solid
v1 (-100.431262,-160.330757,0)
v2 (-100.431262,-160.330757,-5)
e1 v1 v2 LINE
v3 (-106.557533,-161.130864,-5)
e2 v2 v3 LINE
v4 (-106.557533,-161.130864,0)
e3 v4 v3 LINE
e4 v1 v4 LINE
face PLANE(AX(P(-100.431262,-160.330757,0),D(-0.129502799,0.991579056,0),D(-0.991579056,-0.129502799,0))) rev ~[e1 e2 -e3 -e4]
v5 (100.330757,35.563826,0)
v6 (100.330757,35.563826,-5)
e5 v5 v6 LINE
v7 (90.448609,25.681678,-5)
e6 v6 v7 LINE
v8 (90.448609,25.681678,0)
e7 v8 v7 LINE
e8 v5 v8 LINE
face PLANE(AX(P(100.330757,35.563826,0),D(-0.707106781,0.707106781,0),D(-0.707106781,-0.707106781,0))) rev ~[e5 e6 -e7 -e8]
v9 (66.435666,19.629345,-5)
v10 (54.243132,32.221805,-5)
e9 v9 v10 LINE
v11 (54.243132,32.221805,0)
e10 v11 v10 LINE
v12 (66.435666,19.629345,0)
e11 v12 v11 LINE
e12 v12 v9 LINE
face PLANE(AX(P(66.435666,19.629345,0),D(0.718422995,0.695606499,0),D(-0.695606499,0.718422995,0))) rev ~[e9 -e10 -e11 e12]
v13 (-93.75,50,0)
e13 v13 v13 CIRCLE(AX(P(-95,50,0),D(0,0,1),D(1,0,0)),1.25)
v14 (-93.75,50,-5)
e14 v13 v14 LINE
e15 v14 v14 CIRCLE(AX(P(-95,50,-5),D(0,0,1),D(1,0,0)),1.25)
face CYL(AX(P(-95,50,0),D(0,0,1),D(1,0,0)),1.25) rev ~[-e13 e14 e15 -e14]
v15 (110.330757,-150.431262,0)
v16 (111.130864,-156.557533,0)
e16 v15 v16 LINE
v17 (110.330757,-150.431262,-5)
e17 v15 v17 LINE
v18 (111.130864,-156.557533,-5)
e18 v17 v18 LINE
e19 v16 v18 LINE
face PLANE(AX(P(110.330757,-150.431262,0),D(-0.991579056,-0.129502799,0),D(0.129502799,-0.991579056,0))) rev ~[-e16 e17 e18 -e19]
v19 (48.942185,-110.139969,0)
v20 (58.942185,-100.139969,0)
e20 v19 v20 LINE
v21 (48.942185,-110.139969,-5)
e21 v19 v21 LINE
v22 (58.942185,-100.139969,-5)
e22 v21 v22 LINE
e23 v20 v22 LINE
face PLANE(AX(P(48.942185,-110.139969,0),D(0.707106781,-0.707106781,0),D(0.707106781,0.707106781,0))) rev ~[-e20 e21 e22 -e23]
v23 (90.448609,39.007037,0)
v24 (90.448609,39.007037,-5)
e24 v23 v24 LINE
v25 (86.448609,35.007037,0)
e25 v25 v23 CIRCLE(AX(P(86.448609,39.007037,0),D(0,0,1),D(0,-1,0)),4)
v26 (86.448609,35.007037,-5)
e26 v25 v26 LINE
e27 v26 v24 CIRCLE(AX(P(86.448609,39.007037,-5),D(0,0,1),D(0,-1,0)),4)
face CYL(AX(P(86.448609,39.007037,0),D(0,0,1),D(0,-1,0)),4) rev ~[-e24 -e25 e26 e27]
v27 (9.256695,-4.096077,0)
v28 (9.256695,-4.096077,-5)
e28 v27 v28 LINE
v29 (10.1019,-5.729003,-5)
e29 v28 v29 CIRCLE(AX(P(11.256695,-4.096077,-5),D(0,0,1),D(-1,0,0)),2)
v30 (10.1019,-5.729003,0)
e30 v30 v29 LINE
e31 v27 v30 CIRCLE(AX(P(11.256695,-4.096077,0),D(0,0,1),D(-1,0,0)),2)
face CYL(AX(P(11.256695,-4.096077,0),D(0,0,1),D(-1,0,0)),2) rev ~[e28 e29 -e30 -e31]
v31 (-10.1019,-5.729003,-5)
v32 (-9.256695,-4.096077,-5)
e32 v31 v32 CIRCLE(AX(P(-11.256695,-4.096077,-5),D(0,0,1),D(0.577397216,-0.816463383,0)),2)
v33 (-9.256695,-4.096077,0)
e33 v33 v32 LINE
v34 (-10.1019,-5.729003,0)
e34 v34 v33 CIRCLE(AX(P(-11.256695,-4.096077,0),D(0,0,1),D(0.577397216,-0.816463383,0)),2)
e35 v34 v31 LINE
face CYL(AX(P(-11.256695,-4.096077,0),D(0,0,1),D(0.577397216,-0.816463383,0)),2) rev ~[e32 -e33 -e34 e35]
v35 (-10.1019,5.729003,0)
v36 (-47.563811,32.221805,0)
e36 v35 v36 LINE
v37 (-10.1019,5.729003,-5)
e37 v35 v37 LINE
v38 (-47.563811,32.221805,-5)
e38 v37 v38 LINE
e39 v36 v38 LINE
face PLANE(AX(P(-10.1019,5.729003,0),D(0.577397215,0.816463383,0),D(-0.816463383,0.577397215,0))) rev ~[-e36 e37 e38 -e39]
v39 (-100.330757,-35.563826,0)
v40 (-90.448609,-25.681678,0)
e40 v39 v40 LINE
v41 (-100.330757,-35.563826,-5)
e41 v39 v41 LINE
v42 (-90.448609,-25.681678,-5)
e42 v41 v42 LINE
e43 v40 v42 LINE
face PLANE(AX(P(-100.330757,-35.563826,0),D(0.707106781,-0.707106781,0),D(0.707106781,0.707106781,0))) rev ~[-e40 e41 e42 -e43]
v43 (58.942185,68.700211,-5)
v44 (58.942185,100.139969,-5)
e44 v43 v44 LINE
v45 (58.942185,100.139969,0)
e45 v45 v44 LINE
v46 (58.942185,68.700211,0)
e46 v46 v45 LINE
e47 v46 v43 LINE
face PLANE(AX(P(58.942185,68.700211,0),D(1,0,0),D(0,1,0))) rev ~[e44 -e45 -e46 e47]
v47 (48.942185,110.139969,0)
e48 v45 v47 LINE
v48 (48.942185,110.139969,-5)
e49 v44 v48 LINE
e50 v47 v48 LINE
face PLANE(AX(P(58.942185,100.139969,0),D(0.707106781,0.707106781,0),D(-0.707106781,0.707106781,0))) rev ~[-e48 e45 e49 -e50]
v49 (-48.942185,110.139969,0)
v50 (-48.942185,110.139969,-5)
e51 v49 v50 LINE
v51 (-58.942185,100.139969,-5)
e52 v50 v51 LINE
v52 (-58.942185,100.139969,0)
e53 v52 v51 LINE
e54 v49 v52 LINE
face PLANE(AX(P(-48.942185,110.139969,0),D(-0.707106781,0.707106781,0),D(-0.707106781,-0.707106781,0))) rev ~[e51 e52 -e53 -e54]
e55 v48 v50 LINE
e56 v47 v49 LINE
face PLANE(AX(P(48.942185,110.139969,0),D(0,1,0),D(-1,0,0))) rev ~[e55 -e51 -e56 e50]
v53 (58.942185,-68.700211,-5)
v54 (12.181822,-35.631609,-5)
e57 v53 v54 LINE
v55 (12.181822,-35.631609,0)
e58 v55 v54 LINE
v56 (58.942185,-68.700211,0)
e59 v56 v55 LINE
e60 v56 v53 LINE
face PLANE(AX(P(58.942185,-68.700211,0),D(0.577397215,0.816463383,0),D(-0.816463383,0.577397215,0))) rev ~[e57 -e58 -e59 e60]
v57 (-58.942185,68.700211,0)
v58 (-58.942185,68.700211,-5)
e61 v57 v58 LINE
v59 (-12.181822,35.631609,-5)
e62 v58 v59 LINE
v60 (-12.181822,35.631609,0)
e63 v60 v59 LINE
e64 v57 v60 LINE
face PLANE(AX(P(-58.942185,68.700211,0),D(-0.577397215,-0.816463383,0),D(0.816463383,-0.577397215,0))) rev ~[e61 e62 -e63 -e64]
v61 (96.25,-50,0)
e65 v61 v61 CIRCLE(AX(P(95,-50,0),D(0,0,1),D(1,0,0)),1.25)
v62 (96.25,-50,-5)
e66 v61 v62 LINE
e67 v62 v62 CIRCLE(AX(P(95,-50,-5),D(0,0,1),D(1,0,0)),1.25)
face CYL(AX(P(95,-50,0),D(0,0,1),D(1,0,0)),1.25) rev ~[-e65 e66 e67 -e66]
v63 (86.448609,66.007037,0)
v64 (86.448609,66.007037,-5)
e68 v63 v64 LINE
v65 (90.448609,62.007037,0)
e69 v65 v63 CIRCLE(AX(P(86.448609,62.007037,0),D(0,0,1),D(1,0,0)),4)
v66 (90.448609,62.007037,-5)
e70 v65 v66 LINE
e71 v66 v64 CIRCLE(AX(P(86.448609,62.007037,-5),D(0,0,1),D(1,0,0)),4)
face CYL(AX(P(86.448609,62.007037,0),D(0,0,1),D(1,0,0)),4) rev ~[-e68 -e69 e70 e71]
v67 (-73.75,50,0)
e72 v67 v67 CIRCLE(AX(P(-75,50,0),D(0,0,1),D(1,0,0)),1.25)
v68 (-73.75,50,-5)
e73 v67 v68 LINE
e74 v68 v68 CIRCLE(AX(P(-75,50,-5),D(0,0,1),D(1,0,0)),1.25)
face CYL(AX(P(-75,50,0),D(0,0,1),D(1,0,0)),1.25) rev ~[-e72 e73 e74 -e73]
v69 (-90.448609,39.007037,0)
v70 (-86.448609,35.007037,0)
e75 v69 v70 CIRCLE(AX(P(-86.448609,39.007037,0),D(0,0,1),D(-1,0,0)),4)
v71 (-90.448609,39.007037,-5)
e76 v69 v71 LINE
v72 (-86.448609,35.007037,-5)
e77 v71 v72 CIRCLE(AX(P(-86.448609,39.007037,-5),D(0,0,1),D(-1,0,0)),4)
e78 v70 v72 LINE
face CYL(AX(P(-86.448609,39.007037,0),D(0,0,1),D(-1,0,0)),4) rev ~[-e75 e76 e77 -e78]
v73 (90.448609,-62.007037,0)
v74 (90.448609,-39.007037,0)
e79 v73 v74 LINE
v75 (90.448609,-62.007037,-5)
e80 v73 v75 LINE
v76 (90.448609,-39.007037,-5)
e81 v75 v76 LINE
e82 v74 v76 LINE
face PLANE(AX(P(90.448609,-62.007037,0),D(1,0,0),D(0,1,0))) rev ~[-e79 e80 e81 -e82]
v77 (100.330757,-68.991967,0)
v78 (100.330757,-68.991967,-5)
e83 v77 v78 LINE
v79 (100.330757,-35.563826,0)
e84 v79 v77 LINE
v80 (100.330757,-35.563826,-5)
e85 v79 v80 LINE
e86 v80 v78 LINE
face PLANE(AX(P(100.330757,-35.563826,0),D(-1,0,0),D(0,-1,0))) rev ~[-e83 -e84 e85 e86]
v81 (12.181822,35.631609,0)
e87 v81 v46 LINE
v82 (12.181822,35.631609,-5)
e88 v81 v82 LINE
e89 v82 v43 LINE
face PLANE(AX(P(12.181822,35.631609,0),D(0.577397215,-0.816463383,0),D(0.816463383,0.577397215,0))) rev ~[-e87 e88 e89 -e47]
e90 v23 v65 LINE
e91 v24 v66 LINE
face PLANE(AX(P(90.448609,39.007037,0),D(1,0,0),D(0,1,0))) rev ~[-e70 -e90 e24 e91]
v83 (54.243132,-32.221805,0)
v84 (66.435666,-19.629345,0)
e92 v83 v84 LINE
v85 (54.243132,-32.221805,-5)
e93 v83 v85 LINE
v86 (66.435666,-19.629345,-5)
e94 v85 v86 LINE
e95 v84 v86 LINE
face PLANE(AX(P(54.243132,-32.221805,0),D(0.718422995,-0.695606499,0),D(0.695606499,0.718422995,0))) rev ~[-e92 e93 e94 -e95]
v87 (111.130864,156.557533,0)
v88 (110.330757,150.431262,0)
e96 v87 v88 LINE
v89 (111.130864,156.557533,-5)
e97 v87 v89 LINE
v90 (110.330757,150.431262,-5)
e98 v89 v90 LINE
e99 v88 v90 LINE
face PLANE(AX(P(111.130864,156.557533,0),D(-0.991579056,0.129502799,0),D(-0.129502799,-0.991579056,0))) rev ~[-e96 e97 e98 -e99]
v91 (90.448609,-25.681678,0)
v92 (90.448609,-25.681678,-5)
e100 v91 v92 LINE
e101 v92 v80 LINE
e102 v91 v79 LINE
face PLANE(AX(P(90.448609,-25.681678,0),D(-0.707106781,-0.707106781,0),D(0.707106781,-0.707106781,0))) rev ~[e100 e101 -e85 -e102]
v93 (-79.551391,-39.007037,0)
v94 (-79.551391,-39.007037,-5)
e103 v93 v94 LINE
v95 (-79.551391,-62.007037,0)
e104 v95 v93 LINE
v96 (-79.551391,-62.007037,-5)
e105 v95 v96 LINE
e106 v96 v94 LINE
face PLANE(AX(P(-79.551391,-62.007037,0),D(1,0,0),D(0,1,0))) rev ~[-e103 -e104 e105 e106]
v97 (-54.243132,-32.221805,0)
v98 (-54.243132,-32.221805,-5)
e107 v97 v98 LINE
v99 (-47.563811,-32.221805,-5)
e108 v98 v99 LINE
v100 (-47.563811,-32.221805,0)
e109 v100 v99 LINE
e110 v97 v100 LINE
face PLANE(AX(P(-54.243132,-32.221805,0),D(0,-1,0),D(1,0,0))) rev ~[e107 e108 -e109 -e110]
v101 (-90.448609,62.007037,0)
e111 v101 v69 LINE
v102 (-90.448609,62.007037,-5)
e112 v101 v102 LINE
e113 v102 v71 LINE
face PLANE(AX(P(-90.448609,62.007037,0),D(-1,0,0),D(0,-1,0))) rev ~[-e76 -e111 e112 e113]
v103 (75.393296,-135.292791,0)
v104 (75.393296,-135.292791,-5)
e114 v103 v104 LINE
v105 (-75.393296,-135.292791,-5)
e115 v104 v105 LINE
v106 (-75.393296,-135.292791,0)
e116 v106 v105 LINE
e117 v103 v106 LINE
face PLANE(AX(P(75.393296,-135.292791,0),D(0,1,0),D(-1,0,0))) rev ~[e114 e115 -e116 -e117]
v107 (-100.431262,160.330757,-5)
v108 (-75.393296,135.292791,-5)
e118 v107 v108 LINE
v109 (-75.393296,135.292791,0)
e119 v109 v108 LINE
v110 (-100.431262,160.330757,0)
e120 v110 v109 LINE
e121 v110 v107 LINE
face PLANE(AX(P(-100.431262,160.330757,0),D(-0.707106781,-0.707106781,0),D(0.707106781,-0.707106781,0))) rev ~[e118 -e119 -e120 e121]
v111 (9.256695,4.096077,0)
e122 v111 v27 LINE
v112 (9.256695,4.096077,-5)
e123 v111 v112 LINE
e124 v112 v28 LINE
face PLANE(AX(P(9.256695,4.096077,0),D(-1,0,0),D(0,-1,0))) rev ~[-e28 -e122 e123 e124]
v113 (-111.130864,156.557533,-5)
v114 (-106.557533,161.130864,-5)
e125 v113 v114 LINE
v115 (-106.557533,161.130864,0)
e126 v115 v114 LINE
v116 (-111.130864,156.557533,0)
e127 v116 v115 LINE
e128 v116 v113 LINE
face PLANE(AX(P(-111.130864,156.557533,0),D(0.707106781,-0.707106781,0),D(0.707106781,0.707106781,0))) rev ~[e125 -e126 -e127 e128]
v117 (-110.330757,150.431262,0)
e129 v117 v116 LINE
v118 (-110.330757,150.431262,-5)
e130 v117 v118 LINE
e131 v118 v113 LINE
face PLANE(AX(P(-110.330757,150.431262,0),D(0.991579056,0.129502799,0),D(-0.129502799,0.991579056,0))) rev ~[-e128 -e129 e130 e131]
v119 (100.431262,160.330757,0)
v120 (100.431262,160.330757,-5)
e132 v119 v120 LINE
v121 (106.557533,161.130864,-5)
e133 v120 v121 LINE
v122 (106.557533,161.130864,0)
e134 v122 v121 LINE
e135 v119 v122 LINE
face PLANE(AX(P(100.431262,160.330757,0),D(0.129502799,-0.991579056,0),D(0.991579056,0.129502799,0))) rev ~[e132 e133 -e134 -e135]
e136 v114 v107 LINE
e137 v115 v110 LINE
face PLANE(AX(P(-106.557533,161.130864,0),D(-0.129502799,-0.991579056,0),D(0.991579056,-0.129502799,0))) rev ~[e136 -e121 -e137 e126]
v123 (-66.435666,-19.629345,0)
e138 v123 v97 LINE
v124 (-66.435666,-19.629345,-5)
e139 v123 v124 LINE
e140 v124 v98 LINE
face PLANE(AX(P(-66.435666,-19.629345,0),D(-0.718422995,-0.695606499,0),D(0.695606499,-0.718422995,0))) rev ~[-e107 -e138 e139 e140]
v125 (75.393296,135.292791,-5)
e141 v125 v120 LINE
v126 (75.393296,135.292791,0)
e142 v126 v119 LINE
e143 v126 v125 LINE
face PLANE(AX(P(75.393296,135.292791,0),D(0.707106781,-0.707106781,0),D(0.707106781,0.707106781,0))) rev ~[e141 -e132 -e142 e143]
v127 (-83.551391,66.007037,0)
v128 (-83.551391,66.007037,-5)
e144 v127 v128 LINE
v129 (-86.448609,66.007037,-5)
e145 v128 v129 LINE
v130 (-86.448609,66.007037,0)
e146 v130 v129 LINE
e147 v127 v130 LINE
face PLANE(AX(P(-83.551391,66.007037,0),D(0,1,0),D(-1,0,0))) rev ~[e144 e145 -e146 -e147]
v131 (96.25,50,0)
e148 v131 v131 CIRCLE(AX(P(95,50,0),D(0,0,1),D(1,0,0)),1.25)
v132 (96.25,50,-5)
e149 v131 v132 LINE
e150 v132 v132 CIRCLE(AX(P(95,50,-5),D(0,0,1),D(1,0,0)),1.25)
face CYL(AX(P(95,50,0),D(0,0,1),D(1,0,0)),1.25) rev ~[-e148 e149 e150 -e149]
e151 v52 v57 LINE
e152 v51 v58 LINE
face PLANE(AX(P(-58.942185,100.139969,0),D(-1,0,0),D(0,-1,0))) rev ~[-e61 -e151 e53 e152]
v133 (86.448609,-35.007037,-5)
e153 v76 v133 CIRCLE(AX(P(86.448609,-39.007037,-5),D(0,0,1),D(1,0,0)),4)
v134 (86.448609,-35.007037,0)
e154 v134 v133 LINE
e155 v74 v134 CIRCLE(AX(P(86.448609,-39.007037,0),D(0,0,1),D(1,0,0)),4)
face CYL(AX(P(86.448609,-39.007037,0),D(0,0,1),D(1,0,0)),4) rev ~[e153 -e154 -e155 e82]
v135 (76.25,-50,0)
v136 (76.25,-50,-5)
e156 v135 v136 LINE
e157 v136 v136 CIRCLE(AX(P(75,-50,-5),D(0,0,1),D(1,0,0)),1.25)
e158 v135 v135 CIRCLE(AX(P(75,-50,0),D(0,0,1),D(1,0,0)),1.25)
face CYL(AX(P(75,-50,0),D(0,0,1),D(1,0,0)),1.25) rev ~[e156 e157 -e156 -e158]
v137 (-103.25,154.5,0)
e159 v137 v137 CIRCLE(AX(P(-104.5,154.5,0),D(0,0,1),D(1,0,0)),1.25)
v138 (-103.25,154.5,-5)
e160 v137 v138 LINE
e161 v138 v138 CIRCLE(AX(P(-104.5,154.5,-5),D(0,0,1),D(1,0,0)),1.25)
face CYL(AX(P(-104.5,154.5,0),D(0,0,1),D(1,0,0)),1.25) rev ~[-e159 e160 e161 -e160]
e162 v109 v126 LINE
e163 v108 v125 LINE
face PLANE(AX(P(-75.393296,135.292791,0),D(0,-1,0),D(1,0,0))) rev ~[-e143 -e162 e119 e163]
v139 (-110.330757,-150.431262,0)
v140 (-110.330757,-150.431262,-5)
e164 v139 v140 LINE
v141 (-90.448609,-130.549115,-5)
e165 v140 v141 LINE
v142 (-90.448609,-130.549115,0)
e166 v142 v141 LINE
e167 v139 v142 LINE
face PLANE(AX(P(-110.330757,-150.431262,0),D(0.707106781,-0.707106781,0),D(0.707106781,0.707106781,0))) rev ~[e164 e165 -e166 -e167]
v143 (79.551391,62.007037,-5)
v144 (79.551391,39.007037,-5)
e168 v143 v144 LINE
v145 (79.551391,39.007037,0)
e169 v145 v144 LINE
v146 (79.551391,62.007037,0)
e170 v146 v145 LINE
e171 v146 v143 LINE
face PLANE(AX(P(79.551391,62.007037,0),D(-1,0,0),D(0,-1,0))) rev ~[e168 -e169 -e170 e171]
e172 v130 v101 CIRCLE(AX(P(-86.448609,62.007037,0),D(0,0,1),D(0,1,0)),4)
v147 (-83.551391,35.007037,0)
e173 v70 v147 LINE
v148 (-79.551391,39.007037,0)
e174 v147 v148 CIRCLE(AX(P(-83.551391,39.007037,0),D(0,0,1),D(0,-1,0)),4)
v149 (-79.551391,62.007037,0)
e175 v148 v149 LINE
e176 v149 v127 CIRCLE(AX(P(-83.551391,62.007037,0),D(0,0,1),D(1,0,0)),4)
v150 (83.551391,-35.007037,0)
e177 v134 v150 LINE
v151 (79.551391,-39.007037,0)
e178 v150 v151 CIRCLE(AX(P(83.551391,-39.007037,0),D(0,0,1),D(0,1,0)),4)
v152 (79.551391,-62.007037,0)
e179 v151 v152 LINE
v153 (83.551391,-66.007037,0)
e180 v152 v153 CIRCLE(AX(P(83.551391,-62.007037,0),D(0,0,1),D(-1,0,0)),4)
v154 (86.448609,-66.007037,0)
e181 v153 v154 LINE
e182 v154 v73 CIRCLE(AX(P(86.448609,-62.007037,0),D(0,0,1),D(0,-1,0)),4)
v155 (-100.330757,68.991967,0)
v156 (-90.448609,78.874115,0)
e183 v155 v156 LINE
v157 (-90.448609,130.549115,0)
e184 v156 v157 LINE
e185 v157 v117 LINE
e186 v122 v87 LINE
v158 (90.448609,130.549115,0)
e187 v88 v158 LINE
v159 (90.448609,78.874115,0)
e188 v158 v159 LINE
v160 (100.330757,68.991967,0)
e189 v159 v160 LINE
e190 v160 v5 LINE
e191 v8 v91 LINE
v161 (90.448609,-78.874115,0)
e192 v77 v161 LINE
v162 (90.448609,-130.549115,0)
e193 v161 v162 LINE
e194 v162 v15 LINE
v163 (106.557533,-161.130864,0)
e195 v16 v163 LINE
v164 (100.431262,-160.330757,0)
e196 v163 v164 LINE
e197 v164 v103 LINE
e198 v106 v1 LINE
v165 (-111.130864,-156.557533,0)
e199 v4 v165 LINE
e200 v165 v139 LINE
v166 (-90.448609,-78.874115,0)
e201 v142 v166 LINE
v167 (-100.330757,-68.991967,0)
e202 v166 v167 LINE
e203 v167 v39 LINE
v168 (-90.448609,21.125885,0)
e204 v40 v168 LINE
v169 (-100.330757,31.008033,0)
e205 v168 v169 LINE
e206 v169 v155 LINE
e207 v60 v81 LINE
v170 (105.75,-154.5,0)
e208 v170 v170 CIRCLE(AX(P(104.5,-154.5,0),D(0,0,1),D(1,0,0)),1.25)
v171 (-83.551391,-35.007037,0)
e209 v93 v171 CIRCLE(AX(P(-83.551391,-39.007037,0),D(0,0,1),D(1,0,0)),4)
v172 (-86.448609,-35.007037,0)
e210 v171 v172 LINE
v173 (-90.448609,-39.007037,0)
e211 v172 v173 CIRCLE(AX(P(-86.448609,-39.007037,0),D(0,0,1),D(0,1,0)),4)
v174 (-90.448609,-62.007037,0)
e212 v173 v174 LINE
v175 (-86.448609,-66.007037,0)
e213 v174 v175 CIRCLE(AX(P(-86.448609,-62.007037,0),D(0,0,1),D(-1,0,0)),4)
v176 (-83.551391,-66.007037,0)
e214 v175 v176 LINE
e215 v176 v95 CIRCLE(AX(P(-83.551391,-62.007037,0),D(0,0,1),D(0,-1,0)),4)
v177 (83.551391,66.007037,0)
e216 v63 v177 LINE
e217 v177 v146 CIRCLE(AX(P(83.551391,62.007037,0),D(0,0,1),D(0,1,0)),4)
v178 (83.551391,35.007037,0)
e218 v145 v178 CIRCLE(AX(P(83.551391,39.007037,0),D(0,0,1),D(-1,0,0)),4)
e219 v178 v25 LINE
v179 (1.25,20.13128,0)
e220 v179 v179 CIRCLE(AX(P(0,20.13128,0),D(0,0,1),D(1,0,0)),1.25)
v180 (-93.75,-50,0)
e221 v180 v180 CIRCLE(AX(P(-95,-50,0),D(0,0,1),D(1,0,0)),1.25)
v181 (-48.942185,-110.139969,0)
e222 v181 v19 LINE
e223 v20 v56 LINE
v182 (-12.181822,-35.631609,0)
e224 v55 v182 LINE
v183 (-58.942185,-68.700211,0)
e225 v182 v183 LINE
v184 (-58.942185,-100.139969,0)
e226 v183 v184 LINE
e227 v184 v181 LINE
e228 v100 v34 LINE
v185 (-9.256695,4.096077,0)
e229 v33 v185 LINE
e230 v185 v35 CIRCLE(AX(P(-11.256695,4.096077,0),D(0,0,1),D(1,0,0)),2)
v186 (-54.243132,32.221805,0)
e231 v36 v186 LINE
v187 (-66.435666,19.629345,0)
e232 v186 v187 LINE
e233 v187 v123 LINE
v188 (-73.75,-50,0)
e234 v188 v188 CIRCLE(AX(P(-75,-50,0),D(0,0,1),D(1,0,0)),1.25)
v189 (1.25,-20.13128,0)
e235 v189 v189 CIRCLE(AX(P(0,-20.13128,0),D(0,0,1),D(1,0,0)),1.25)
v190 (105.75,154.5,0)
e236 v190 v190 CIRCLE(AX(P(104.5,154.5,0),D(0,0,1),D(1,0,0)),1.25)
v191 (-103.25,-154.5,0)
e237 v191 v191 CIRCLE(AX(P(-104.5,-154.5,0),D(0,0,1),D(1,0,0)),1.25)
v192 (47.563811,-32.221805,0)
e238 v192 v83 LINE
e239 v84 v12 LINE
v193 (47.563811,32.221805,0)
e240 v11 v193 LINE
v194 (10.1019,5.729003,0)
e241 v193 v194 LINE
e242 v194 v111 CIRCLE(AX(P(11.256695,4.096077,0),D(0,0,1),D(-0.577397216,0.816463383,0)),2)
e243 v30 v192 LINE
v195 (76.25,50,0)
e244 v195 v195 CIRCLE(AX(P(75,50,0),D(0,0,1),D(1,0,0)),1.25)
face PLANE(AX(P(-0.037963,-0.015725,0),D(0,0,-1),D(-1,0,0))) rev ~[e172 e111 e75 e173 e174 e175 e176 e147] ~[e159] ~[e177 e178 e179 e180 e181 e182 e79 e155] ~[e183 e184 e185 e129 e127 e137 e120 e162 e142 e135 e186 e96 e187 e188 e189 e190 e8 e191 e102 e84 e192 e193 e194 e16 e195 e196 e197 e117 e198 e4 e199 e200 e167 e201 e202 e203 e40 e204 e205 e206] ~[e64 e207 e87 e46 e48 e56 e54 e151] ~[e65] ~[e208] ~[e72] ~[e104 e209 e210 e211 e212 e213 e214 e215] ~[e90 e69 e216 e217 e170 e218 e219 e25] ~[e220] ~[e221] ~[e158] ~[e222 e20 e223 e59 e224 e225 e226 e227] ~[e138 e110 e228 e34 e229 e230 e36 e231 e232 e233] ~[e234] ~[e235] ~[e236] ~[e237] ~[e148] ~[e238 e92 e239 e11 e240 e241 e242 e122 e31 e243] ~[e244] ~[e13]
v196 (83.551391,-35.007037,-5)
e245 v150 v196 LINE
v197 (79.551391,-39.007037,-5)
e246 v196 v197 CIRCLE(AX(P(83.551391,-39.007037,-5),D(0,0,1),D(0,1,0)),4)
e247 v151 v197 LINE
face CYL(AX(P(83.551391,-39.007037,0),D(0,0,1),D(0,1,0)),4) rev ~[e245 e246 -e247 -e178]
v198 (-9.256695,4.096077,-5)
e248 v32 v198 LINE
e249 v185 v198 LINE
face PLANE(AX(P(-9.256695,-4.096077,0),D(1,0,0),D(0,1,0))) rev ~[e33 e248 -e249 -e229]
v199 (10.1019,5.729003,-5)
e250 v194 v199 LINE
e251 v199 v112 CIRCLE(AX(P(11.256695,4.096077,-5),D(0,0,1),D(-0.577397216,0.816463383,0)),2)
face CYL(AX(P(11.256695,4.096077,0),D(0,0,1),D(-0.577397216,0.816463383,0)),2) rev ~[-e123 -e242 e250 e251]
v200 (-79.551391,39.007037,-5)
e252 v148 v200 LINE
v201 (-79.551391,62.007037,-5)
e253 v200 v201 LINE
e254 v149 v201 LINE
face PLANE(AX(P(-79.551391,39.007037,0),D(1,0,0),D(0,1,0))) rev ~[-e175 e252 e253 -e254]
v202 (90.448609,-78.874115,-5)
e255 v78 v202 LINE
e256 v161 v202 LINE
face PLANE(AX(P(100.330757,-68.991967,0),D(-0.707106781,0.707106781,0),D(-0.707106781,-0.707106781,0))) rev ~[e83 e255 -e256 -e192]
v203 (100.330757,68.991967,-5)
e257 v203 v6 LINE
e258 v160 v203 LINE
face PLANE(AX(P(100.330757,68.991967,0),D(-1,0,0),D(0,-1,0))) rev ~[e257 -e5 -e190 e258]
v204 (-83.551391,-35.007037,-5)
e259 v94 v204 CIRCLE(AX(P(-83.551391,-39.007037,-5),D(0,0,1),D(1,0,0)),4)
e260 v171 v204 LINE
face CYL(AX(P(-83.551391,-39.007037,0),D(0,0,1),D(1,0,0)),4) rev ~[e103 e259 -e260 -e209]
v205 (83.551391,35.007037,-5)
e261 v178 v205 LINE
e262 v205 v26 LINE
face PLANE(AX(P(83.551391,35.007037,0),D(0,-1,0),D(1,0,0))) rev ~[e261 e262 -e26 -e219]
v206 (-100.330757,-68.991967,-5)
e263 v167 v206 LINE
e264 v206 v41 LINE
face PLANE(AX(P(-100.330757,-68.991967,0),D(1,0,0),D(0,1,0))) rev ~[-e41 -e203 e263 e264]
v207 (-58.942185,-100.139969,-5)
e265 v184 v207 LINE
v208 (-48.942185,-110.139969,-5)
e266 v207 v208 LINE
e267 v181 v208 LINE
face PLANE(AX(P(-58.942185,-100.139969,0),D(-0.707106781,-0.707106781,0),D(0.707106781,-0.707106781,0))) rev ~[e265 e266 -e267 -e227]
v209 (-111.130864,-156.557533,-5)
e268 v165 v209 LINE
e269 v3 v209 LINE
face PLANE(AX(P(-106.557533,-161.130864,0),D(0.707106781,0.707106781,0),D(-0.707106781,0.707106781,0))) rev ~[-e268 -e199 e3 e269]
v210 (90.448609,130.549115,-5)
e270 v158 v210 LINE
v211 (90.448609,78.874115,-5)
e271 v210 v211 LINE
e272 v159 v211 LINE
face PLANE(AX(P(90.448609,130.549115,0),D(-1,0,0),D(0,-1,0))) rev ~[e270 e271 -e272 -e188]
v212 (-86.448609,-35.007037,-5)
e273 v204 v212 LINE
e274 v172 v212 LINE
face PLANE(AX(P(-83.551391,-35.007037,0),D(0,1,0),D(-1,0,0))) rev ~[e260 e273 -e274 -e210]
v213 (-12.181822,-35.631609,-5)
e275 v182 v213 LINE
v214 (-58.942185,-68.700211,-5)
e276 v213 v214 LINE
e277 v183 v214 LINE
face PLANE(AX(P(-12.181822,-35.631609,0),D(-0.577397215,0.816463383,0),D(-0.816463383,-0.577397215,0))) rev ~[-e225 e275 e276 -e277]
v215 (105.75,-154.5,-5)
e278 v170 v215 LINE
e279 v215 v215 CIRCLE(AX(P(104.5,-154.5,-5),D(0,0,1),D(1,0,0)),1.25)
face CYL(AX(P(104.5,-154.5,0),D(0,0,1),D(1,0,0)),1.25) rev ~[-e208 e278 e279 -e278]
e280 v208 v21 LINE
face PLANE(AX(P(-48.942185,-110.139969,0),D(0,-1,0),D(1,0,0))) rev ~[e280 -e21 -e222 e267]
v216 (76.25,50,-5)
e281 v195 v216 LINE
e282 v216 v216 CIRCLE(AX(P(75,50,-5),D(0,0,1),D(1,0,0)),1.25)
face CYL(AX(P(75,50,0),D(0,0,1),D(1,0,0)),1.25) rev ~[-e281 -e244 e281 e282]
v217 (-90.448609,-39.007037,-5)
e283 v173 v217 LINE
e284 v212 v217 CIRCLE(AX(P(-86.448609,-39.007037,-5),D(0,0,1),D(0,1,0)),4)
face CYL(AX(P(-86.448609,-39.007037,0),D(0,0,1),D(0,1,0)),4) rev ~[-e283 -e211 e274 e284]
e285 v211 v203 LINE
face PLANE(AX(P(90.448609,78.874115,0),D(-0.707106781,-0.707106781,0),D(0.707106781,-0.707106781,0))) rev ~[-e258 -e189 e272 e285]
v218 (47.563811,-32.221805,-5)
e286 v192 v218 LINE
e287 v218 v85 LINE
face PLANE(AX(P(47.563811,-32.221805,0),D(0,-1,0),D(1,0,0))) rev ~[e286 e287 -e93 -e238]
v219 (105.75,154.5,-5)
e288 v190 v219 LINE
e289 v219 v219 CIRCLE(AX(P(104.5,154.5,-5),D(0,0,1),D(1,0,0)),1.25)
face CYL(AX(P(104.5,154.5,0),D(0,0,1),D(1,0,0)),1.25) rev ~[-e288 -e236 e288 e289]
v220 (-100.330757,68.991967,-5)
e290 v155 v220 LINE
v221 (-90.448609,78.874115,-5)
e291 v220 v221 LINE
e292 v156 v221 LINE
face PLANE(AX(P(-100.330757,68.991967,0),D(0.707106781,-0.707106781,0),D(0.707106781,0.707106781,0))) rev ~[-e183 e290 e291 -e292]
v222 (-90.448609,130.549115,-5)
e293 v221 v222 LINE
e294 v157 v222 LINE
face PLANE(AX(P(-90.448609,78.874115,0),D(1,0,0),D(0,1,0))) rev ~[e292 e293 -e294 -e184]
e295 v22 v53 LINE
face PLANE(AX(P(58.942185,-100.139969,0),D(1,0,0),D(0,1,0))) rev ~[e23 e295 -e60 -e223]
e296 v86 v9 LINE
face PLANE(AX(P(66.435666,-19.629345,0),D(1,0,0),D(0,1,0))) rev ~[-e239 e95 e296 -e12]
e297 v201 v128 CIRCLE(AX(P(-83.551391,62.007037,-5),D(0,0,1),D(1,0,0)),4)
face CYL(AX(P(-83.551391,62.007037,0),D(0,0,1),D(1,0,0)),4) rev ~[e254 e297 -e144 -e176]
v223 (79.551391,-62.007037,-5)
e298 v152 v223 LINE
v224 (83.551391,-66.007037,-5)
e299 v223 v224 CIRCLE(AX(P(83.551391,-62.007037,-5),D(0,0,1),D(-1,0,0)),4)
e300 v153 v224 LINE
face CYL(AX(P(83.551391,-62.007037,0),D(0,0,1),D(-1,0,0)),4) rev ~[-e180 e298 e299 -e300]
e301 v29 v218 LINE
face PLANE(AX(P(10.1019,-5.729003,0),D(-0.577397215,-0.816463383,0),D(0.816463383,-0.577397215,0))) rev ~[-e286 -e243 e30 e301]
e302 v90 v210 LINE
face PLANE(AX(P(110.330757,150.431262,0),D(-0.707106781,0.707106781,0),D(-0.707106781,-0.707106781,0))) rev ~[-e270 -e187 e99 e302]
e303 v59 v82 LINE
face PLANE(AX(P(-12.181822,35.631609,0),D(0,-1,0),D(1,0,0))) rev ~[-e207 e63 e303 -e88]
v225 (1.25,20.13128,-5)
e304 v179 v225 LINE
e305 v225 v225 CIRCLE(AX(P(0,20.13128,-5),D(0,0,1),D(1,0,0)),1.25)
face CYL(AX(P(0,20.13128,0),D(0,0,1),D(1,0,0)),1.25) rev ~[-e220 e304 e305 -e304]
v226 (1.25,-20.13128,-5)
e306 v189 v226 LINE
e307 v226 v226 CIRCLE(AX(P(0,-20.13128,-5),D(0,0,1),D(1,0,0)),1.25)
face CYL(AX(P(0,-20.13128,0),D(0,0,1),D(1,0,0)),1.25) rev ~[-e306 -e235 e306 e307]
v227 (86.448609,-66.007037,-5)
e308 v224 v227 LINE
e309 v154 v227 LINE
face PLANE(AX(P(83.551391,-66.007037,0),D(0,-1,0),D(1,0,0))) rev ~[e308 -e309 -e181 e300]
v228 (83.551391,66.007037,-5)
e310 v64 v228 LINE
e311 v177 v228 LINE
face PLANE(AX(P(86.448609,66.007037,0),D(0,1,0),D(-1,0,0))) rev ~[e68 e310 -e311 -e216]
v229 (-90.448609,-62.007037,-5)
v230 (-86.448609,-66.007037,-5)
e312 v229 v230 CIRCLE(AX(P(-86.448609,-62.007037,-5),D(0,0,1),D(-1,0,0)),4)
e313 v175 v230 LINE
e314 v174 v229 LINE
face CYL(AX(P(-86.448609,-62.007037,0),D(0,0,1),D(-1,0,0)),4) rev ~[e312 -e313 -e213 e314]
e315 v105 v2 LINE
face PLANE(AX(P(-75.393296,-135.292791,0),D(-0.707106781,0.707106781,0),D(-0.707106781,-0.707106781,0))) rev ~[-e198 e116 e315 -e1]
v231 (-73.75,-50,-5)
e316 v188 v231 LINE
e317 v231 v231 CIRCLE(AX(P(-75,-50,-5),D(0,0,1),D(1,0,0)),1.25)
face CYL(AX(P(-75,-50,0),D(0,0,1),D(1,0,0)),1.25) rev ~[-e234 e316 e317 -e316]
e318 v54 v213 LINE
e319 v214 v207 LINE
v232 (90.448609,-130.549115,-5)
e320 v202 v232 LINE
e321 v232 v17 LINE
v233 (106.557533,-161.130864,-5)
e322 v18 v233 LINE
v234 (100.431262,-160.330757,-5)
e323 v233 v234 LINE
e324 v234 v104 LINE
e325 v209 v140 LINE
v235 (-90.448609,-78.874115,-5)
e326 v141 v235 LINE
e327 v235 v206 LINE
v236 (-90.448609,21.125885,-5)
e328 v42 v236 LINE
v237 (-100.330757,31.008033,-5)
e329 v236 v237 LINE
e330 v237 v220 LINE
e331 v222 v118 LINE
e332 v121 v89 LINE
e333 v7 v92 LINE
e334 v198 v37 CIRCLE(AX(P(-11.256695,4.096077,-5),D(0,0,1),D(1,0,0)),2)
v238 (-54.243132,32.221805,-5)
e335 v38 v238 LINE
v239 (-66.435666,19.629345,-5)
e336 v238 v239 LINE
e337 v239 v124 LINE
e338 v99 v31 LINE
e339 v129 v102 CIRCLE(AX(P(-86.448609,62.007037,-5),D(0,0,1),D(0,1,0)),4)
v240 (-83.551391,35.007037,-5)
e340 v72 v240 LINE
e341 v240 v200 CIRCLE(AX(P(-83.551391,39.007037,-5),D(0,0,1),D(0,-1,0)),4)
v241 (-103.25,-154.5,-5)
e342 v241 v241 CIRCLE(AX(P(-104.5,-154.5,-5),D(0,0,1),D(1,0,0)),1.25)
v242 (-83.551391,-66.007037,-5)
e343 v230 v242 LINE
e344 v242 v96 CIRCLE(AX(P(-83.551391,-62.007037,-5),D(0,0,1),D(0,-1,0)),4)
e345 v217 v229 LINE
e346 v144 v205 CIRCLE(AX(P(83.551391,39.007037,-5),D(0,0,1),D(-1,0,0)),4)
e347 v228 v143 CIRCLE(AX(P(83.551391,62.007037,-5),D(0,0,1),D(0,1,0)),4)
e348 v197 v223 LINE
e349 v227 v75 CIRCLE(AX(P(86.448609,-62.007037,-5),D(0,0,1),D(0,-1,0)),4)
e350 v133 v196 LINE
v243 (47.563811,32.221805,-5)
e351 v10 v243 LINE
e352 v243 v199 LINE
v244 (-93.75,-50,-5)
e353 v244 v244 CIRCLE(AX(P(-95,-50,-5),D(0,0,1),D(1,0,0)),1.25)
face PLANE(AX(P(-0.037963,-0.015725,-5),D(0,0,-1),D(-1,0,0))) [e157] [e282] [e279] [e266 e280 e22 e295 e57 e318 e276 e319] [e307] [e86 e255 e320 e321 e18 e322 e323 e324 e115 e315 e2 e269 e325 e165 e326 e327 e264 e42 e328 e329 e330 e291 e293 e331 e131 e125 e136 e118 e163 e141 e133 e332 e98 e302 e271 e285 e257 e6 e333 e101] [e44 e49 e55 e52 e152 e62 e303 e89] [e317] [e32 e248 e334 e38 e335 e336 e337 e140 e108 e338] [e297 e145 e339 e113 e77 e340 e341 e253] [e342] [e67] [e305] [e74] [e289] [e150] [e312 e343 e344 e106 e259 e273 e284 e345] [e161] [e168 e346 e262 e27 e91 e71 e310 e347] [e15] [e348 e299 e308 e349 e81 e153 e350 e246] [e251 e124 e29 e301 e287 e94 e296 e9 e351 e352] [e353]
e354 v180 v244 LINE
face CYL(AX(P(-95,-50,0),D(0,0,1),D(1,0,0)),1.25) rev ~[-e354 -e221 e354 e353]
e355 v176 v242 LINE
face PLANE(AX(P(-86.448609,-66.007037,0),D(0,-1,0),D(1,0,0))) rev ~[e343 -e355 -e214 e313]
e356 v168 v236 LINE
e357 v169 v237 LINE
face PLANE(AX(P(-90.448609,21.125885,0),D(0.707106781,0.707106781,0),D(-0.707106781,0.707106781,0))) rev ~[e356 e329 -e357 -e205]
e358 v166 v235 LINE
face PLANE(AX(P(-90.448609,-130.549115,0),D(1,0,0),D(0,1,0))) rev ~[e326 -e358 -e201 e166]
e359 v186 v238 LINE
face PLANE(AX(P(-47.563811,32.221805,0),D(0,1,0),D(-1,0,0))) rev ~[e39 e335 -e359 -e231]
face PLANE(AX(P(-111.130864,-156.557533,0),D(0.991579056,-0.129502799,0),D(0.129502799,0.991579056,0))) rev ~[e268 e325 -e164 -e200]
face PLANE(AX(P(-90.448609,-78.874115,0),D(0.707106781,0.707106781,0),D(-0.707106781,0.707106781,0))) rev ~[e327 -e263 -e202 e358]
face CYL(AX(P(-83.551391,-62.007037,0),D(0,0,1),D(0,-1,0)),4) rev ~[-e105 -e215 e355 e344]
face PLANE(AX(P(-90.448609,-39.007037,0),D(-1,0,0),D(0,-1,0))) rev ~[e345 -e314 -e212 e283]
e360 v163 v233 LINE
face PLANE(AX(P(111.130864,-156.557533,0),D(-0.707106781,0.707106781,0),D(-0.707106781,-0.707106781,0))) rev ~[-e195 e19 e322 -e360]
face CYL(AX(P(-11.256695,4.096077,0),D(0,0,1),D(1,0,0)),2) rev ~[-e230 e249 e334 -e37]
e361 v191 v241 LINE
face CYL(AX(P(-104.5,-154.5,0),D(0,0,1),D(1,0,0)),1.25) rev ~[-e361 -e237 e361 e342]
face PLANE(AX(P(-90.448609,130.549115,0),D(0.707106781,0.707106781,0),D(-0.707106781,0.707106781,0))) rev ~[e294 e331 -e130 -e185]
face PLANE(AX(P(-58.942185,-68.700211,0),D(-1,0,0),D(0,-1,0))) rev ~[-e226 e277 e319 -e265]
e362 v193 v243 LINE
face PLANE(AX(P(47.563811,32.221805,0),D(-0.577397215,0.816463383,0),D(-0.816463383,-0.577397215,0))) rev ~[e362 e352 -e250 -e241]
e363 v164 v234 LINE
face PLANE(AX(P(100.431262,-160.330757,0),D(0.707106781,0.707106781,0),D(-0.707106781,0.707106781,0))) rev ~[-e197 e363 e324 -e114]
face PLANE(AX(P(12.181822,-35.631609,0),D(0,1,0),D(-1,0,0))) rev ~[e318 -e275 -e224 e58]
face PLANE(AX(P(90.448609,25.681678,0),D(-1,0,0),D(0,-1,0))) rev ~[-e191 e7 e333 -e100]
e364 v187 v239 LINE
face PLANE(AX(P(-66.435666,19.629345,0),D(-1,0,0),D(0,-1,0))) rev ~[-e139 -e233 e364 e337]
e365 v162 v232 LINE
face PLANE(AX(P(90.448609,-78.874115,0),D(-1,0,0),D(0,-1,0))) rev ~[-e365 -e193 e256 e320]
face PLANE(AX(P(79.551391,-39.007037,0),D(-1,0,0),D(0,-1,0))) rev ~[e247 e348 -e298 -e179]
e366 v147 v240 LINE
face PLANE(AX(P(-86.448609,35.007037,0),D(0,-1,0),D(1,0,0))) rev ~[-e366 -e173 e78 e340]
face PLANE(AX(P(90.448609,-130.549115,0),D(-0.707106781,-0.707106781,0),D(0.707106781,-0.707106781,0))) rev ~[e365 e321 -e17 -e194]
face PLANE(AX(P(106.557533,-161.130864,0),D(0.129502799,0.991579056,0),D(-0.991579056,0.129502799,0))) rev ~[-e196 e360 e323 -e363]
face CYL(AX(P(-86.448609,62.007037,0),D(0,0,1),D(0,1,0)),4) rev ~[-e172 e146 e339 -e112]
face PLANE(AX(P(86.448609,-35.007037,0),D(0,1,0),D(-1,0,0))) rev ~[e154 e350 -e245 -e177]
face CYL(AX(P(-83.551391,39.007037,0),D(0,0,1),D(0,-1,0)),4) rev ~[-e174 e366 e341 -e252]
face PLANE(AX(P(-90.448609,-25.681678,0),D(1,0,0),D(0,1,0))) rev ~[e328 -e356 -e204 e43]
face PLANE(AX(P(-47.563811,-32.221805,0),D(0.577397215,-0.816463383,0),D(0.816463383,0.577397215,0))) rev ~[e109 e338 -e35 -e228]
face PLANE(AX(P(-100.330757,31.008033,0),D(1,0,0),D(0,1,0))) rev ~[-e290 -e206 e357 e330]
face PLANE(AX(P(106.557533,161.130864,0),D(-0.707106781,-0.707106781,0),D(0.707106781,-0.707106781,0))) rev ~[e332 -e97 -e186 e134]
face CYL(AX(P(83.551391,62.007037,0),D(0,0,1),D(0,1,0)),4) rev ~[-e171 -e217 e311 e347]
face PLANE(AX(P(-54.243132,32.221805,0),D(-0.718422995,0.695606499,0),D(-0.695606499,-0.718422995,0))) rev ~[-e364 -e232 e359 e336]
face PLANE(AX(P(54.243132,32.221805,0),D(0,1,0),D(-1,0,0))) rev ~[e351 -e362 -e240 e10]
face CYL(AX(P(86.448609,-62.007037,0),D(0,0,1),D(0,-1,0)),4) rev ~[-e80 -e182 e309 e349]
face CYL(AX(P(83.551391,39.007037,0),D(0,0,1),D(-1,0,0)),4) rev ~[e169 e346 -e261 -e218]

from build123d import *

# Parameters (mm, degrees)
SCHIZZO1_R                   = 1.25
ESTRUSIONE_ESTRUSIONE1_DEPTH = 5


with BuildPart() as part:
    # Schizzo1 → Estrusione-Estrusione1 (new body)
    with BuildSketch(Plane.XY):
        Polygon((-111.130864092, 156.55753287), (-106.55753287, 161.130864092), (-100.431262317, 160.330757253), (-75.393295673, 135.29279061), (75.393295673, 135.29279061), (100.431262317, 160.330757253), (106.55753287, 161.130864092), (111.130864092, 156.55753287), (110.330757253, 150.431262317), (90.448609444, 130.549114507), (90.448609444, 78.874114811), (100.330757253, 68.991967001), (100.330757253, 35.563826068), (90.448609444, 25.681678258), (90.448609444, -25.681678258), (100.330757253, -35.563826068), (100.330757253, -68.991967001), (90.448609444, -78.874114811), (90.448609444, -130.549114507), (110.330757253, -150.431262317), (111.130864092, -156.55753287), (106.55753287, -161.130864092), (100.431262317, -160.330757253), (75.393295673, -135.29279061), (-75.393295673, -135.29279061), (-100.431262317, -160.330757253), (-106.55753287, -161.130864092), (-111.130864092, -156.55753287), (-110.330757253, -150.431262317), (-90.448609444, -130.549114507), (-90.448609444, -78.874114811), (-100.330757253, -68.991967001), (-100.330757253, -35.563826068), (-90.448609444, -25.681678258), (-90.448609444, 21.125885189), (-100.330757253, 31.008032999), (-100.330757253, 68.991967001), (-90.448609444, 78.874114811), (-90.448609444, 130.549114507), (-110.330757253, 150.431262317), align=None)
        with Locations((-95, 50)):
            Circle(SCHIZZO1_R, mode=Mode.SUBTRACT)
        with Locations((-75, 50)):
            Circle(SCHIZZO1_R, mode=Mode.SUBTRACT)
        with Locations((-104.5, 154.5)):
            Circle(SCHIZZO1_R, mode=Mode.SUBTRACT)
        with Locations((104.5, 154.5)):
            Circle(SCHIZZO1_R, mode=Mode.SUBTRACT)
        with Locations((75, 50)):
            Circle(SCHIZZO1_R, mode=Mode.SUBTRACT)
        with Locations((95, 50)):
            Circle(SCHIZZO1_R, mode=Mode.SUBTRACT)
        with Locations((0, 20.131279802)):
            Circle(SCHIZZO1_R, mode=Mode.SUBTRACT)
        with Locations((0, -20.131279802)):
            Circle(SCHIZZO1_R, mode=Mode.SUBTRACT)
        with Locations((95, -50)):
            Circle(SCHIZZO1_R, mode=Mode.SUBTRACT)
        with Locations((75, -50)):
            Circle(SCHIZZO1_R, mode=Mode.SUBTRACT)
        with Locations((104.5, -154.5)):
            Circle(SCHIZZO1_R, mode=Mode.SUBTRACT)
        with Locations((-104.5, -154.5)):
            Circle(SCHIZZO1_R, mode=Mode.SUBTRACT)
        with Locations((-75, -50)):
            Circle(SCHIZZO1_R, mode=Mode.SUBTRACT)
        with Locations((-95, -50)):
            Circle(SCHIZZO1_R, mode=Mode.SUBTRACT)
        with BuildLine():
            Line((-66.435665908, 19.62934529), (-66.435665908, -19.62934529))
            Line((-66.435665908, -19.62934529), (-54.243131725, -32.22180516))
            Line((-54.243131725, -32.22180516), (-47.563810674, -32.22180516))
            Line((-47.563810674, -32.22180516), (-10.101900389, -5.729003291))
            ThreePointArc((-10.101900389, -5.729003291), (-9.48052072, -5.015427148), (-9.256694819, -4.096076524))
            Line((-9.256694819, -4.096076524), (-9.256694819, 4.096076524))
            ThreePointArc((-9.256694819, 4.096076524), (-9.48052072, 5.015427148), (-10.101900389, 5.729003291))
            Line((-10.101900389, 5.729003291), (-47.563810674, 32.22180516))
            Line((-47.563810674, 32.22180516), (-54.243131725, 32.22180516))
            Line((-54.243131725, 32.22180516), (-66.435665908, 19.62934529))
        make_face(mode=Mode.SUBTRACT)
        Polygon((-58.942185062, 100.139969228), (-58.942185062, 68.700211283), (-12.181822312, 35.631608635), (12.181822312, 35.631608635), (58.942185062, 68.700211283), (58.942185062, 100.139969228), (48.942185062, 110.139969228), (-48.942185062, 110.139969228), align=None, mode=Mode.SUBTRACT)
        with BuildLine():
            Line((-86.448609444, 35.007036896), (-83.551390556, 35.007036896))
            ThreePointArc((-83.551390556, 35.007036896), (-80.722963432, 36.178609771), (-79.551390556, 39.007036896))
            Line((-79.551390556, 39.007036896), (-79.551390556, 62.007036896))
            ThreePointArc((-79.551390556, 62.007036896), (-80.722963432, 64.835464021), (-83.551390556, 66.007036896))
            Line((-83.551390556, 66.007036896), (-86.448609444, 66.007036896))
            ThreePointArc((-86.448609444, 66.007036896), (-89.277036568, 64.835464021), (-90.448609444, 62.007036896))
            Line((-90.448609444, 62.007036896), (-90.448609444, 39.007036896))
            ThreePointArc((-90.448609444, 39.007036896), (-89.277036568, 36.178609771), (-86.448609444, 35.007036896))
        make_face(mode=Mode.SUBTRACT)
        with BuildLine():
            Line((86.448609444, 66.007036896), (83.551390556, 66.007036896))
            ThreePointArc((83.551390556, 66.007036896), (80.722963432, 64.835464021), (79.551390556, 62.007036896))
            Line((79.551390556, 62.007036896), (79.551390556, 39.007036896))
            ThreePointArc((79.551390556, 39.007036896), (80.722963432, 36.178609771), (83.551390556, 35.007036896))
            Line((83.551390556, 35.007036896), (86.448609444, 35.007036896))
            ThreePointArc((86.448609444, 35.007036896), (89.277036568, 36.178609771), (90.448609444, 39.007036896))
            Line((90.448609444, 39.007036896), (90.448609444, 62.007036896))
            ThreePointArc((90.448609444, 62.007036896), (89.277036568, 64.835464021), (86.448609444, 66.007036896))
        make_face(mode=Mode.SUBTRACT)
        with BuildLine():
            Line((47.563810674, 32.22180516), (10.101900389, 5.729003291))
            ThreePointArc((10.101900389, 5.729003291), (9.48052072, 5.015427148), (9.256694819, 4.096076524))
            Line((9.256694819, 4.096076524), (9.256694819, -4.096076524))
            ThreePointArc((9.256694819, -4.096076524), (9.48052072, -5.015427148), (10.101900389, -5.729003291))
            Line((10.101900389, -5.729003291), (47.563810674, -32.22180516))
            Line((47.563810674, -32.22180516), (54.243131725, -32.22180516))
            Line((54.243131725, -32.22180516), (66.435665908, -19.62934529))
            Line((66.435665908, -19.62934529), (66.435665908, 19.62934529))
            Line((66.435665908, 19.62934529), (54.243131725, 32.22180516))
            Line((54.243131725, 32.22180516), (47.563810674, 32.22180516))
        make_face(mode=Mode.SUBTRACT)
        with BuildLine():
            Line((-86.448609444, -66.007036896), (-83.551390556, -66.007036896))
            ThreePointArc((-83.551390556, -66.007036896), (-80.722963432, -64.835464021), (-79.551390556, -62.007036896))
            Line((-79.551390556, -62.007036896), (-79.551390556, -39.007036896))
            ThreePointArc((-79.551390556, -39.007036896), (-80.722963432, -36.178609771), (-83.551390556, -35.007036896))
            Line((-83.551390556, -35.007036896), (-86.448609444, -35.007036896))
            ThreePointArc((-86.448609444, -35.007036896), (-89.277036568, -36.178609771), (-90.448609444, -39.007036896))
            Line((-90.448609444, -39.007036896), (-90.448609444, -62.007036896))
            ThreePointArc((-90.448609444, -62.007036896), (-89.277036568, -64.835464021), (-86.448609444, -66.007036896))
        make_face(mode=Mode.SUBTRACT)
        Polygon((-48.942185062, -110.139969228), (48.942185062, -110.139969228), (58.942185062, -100.139969228), (58.942185062, -68.700211283), (12.181822312, -35.631608635), (-12.181822312, -35.631608635), (-58.942185062, -68.700211283), (-58.942185062, -100.139969228), align=None, mode=Mode.SUBTRACT)
        with BuildLine():
            Line((86.448609444, -35.007036896), (83.551390556, -35.007036896))
            ThreePointArc((83.551390556, -35.007036896), (80.722963432, -36.178609771), (79.551390556, -39.007036896))
            Line((79.551390556, -39.007036896), (79.551390556, -62.007036896))
            ThreePointArc((79.551390556, -62.007036896), (80.722963432, -64.835464021), (83.551390556, -66.007036896))
            Line((83.551390556, -66.007036896), (86.448609444, -66.007036896))
            ThreePointArc((86.448609444, -66.007036896), (89.277036568, -64.835464021), (90.448609444, -62.007036896))
            Line((90.448609444, -62.007036896), (90.448609444, -39.007036896))
            ThreePointArc((90.448609444, -39.007036896), (89.277036568, -36.178609771), (86.448609444, -35.007036896))
        make_face(mode=Mode.SUBTRACT)
    extrude(amount=-ESTRUSIONE_ESTRUSIONE1_DEPTH)


solid = part.part
